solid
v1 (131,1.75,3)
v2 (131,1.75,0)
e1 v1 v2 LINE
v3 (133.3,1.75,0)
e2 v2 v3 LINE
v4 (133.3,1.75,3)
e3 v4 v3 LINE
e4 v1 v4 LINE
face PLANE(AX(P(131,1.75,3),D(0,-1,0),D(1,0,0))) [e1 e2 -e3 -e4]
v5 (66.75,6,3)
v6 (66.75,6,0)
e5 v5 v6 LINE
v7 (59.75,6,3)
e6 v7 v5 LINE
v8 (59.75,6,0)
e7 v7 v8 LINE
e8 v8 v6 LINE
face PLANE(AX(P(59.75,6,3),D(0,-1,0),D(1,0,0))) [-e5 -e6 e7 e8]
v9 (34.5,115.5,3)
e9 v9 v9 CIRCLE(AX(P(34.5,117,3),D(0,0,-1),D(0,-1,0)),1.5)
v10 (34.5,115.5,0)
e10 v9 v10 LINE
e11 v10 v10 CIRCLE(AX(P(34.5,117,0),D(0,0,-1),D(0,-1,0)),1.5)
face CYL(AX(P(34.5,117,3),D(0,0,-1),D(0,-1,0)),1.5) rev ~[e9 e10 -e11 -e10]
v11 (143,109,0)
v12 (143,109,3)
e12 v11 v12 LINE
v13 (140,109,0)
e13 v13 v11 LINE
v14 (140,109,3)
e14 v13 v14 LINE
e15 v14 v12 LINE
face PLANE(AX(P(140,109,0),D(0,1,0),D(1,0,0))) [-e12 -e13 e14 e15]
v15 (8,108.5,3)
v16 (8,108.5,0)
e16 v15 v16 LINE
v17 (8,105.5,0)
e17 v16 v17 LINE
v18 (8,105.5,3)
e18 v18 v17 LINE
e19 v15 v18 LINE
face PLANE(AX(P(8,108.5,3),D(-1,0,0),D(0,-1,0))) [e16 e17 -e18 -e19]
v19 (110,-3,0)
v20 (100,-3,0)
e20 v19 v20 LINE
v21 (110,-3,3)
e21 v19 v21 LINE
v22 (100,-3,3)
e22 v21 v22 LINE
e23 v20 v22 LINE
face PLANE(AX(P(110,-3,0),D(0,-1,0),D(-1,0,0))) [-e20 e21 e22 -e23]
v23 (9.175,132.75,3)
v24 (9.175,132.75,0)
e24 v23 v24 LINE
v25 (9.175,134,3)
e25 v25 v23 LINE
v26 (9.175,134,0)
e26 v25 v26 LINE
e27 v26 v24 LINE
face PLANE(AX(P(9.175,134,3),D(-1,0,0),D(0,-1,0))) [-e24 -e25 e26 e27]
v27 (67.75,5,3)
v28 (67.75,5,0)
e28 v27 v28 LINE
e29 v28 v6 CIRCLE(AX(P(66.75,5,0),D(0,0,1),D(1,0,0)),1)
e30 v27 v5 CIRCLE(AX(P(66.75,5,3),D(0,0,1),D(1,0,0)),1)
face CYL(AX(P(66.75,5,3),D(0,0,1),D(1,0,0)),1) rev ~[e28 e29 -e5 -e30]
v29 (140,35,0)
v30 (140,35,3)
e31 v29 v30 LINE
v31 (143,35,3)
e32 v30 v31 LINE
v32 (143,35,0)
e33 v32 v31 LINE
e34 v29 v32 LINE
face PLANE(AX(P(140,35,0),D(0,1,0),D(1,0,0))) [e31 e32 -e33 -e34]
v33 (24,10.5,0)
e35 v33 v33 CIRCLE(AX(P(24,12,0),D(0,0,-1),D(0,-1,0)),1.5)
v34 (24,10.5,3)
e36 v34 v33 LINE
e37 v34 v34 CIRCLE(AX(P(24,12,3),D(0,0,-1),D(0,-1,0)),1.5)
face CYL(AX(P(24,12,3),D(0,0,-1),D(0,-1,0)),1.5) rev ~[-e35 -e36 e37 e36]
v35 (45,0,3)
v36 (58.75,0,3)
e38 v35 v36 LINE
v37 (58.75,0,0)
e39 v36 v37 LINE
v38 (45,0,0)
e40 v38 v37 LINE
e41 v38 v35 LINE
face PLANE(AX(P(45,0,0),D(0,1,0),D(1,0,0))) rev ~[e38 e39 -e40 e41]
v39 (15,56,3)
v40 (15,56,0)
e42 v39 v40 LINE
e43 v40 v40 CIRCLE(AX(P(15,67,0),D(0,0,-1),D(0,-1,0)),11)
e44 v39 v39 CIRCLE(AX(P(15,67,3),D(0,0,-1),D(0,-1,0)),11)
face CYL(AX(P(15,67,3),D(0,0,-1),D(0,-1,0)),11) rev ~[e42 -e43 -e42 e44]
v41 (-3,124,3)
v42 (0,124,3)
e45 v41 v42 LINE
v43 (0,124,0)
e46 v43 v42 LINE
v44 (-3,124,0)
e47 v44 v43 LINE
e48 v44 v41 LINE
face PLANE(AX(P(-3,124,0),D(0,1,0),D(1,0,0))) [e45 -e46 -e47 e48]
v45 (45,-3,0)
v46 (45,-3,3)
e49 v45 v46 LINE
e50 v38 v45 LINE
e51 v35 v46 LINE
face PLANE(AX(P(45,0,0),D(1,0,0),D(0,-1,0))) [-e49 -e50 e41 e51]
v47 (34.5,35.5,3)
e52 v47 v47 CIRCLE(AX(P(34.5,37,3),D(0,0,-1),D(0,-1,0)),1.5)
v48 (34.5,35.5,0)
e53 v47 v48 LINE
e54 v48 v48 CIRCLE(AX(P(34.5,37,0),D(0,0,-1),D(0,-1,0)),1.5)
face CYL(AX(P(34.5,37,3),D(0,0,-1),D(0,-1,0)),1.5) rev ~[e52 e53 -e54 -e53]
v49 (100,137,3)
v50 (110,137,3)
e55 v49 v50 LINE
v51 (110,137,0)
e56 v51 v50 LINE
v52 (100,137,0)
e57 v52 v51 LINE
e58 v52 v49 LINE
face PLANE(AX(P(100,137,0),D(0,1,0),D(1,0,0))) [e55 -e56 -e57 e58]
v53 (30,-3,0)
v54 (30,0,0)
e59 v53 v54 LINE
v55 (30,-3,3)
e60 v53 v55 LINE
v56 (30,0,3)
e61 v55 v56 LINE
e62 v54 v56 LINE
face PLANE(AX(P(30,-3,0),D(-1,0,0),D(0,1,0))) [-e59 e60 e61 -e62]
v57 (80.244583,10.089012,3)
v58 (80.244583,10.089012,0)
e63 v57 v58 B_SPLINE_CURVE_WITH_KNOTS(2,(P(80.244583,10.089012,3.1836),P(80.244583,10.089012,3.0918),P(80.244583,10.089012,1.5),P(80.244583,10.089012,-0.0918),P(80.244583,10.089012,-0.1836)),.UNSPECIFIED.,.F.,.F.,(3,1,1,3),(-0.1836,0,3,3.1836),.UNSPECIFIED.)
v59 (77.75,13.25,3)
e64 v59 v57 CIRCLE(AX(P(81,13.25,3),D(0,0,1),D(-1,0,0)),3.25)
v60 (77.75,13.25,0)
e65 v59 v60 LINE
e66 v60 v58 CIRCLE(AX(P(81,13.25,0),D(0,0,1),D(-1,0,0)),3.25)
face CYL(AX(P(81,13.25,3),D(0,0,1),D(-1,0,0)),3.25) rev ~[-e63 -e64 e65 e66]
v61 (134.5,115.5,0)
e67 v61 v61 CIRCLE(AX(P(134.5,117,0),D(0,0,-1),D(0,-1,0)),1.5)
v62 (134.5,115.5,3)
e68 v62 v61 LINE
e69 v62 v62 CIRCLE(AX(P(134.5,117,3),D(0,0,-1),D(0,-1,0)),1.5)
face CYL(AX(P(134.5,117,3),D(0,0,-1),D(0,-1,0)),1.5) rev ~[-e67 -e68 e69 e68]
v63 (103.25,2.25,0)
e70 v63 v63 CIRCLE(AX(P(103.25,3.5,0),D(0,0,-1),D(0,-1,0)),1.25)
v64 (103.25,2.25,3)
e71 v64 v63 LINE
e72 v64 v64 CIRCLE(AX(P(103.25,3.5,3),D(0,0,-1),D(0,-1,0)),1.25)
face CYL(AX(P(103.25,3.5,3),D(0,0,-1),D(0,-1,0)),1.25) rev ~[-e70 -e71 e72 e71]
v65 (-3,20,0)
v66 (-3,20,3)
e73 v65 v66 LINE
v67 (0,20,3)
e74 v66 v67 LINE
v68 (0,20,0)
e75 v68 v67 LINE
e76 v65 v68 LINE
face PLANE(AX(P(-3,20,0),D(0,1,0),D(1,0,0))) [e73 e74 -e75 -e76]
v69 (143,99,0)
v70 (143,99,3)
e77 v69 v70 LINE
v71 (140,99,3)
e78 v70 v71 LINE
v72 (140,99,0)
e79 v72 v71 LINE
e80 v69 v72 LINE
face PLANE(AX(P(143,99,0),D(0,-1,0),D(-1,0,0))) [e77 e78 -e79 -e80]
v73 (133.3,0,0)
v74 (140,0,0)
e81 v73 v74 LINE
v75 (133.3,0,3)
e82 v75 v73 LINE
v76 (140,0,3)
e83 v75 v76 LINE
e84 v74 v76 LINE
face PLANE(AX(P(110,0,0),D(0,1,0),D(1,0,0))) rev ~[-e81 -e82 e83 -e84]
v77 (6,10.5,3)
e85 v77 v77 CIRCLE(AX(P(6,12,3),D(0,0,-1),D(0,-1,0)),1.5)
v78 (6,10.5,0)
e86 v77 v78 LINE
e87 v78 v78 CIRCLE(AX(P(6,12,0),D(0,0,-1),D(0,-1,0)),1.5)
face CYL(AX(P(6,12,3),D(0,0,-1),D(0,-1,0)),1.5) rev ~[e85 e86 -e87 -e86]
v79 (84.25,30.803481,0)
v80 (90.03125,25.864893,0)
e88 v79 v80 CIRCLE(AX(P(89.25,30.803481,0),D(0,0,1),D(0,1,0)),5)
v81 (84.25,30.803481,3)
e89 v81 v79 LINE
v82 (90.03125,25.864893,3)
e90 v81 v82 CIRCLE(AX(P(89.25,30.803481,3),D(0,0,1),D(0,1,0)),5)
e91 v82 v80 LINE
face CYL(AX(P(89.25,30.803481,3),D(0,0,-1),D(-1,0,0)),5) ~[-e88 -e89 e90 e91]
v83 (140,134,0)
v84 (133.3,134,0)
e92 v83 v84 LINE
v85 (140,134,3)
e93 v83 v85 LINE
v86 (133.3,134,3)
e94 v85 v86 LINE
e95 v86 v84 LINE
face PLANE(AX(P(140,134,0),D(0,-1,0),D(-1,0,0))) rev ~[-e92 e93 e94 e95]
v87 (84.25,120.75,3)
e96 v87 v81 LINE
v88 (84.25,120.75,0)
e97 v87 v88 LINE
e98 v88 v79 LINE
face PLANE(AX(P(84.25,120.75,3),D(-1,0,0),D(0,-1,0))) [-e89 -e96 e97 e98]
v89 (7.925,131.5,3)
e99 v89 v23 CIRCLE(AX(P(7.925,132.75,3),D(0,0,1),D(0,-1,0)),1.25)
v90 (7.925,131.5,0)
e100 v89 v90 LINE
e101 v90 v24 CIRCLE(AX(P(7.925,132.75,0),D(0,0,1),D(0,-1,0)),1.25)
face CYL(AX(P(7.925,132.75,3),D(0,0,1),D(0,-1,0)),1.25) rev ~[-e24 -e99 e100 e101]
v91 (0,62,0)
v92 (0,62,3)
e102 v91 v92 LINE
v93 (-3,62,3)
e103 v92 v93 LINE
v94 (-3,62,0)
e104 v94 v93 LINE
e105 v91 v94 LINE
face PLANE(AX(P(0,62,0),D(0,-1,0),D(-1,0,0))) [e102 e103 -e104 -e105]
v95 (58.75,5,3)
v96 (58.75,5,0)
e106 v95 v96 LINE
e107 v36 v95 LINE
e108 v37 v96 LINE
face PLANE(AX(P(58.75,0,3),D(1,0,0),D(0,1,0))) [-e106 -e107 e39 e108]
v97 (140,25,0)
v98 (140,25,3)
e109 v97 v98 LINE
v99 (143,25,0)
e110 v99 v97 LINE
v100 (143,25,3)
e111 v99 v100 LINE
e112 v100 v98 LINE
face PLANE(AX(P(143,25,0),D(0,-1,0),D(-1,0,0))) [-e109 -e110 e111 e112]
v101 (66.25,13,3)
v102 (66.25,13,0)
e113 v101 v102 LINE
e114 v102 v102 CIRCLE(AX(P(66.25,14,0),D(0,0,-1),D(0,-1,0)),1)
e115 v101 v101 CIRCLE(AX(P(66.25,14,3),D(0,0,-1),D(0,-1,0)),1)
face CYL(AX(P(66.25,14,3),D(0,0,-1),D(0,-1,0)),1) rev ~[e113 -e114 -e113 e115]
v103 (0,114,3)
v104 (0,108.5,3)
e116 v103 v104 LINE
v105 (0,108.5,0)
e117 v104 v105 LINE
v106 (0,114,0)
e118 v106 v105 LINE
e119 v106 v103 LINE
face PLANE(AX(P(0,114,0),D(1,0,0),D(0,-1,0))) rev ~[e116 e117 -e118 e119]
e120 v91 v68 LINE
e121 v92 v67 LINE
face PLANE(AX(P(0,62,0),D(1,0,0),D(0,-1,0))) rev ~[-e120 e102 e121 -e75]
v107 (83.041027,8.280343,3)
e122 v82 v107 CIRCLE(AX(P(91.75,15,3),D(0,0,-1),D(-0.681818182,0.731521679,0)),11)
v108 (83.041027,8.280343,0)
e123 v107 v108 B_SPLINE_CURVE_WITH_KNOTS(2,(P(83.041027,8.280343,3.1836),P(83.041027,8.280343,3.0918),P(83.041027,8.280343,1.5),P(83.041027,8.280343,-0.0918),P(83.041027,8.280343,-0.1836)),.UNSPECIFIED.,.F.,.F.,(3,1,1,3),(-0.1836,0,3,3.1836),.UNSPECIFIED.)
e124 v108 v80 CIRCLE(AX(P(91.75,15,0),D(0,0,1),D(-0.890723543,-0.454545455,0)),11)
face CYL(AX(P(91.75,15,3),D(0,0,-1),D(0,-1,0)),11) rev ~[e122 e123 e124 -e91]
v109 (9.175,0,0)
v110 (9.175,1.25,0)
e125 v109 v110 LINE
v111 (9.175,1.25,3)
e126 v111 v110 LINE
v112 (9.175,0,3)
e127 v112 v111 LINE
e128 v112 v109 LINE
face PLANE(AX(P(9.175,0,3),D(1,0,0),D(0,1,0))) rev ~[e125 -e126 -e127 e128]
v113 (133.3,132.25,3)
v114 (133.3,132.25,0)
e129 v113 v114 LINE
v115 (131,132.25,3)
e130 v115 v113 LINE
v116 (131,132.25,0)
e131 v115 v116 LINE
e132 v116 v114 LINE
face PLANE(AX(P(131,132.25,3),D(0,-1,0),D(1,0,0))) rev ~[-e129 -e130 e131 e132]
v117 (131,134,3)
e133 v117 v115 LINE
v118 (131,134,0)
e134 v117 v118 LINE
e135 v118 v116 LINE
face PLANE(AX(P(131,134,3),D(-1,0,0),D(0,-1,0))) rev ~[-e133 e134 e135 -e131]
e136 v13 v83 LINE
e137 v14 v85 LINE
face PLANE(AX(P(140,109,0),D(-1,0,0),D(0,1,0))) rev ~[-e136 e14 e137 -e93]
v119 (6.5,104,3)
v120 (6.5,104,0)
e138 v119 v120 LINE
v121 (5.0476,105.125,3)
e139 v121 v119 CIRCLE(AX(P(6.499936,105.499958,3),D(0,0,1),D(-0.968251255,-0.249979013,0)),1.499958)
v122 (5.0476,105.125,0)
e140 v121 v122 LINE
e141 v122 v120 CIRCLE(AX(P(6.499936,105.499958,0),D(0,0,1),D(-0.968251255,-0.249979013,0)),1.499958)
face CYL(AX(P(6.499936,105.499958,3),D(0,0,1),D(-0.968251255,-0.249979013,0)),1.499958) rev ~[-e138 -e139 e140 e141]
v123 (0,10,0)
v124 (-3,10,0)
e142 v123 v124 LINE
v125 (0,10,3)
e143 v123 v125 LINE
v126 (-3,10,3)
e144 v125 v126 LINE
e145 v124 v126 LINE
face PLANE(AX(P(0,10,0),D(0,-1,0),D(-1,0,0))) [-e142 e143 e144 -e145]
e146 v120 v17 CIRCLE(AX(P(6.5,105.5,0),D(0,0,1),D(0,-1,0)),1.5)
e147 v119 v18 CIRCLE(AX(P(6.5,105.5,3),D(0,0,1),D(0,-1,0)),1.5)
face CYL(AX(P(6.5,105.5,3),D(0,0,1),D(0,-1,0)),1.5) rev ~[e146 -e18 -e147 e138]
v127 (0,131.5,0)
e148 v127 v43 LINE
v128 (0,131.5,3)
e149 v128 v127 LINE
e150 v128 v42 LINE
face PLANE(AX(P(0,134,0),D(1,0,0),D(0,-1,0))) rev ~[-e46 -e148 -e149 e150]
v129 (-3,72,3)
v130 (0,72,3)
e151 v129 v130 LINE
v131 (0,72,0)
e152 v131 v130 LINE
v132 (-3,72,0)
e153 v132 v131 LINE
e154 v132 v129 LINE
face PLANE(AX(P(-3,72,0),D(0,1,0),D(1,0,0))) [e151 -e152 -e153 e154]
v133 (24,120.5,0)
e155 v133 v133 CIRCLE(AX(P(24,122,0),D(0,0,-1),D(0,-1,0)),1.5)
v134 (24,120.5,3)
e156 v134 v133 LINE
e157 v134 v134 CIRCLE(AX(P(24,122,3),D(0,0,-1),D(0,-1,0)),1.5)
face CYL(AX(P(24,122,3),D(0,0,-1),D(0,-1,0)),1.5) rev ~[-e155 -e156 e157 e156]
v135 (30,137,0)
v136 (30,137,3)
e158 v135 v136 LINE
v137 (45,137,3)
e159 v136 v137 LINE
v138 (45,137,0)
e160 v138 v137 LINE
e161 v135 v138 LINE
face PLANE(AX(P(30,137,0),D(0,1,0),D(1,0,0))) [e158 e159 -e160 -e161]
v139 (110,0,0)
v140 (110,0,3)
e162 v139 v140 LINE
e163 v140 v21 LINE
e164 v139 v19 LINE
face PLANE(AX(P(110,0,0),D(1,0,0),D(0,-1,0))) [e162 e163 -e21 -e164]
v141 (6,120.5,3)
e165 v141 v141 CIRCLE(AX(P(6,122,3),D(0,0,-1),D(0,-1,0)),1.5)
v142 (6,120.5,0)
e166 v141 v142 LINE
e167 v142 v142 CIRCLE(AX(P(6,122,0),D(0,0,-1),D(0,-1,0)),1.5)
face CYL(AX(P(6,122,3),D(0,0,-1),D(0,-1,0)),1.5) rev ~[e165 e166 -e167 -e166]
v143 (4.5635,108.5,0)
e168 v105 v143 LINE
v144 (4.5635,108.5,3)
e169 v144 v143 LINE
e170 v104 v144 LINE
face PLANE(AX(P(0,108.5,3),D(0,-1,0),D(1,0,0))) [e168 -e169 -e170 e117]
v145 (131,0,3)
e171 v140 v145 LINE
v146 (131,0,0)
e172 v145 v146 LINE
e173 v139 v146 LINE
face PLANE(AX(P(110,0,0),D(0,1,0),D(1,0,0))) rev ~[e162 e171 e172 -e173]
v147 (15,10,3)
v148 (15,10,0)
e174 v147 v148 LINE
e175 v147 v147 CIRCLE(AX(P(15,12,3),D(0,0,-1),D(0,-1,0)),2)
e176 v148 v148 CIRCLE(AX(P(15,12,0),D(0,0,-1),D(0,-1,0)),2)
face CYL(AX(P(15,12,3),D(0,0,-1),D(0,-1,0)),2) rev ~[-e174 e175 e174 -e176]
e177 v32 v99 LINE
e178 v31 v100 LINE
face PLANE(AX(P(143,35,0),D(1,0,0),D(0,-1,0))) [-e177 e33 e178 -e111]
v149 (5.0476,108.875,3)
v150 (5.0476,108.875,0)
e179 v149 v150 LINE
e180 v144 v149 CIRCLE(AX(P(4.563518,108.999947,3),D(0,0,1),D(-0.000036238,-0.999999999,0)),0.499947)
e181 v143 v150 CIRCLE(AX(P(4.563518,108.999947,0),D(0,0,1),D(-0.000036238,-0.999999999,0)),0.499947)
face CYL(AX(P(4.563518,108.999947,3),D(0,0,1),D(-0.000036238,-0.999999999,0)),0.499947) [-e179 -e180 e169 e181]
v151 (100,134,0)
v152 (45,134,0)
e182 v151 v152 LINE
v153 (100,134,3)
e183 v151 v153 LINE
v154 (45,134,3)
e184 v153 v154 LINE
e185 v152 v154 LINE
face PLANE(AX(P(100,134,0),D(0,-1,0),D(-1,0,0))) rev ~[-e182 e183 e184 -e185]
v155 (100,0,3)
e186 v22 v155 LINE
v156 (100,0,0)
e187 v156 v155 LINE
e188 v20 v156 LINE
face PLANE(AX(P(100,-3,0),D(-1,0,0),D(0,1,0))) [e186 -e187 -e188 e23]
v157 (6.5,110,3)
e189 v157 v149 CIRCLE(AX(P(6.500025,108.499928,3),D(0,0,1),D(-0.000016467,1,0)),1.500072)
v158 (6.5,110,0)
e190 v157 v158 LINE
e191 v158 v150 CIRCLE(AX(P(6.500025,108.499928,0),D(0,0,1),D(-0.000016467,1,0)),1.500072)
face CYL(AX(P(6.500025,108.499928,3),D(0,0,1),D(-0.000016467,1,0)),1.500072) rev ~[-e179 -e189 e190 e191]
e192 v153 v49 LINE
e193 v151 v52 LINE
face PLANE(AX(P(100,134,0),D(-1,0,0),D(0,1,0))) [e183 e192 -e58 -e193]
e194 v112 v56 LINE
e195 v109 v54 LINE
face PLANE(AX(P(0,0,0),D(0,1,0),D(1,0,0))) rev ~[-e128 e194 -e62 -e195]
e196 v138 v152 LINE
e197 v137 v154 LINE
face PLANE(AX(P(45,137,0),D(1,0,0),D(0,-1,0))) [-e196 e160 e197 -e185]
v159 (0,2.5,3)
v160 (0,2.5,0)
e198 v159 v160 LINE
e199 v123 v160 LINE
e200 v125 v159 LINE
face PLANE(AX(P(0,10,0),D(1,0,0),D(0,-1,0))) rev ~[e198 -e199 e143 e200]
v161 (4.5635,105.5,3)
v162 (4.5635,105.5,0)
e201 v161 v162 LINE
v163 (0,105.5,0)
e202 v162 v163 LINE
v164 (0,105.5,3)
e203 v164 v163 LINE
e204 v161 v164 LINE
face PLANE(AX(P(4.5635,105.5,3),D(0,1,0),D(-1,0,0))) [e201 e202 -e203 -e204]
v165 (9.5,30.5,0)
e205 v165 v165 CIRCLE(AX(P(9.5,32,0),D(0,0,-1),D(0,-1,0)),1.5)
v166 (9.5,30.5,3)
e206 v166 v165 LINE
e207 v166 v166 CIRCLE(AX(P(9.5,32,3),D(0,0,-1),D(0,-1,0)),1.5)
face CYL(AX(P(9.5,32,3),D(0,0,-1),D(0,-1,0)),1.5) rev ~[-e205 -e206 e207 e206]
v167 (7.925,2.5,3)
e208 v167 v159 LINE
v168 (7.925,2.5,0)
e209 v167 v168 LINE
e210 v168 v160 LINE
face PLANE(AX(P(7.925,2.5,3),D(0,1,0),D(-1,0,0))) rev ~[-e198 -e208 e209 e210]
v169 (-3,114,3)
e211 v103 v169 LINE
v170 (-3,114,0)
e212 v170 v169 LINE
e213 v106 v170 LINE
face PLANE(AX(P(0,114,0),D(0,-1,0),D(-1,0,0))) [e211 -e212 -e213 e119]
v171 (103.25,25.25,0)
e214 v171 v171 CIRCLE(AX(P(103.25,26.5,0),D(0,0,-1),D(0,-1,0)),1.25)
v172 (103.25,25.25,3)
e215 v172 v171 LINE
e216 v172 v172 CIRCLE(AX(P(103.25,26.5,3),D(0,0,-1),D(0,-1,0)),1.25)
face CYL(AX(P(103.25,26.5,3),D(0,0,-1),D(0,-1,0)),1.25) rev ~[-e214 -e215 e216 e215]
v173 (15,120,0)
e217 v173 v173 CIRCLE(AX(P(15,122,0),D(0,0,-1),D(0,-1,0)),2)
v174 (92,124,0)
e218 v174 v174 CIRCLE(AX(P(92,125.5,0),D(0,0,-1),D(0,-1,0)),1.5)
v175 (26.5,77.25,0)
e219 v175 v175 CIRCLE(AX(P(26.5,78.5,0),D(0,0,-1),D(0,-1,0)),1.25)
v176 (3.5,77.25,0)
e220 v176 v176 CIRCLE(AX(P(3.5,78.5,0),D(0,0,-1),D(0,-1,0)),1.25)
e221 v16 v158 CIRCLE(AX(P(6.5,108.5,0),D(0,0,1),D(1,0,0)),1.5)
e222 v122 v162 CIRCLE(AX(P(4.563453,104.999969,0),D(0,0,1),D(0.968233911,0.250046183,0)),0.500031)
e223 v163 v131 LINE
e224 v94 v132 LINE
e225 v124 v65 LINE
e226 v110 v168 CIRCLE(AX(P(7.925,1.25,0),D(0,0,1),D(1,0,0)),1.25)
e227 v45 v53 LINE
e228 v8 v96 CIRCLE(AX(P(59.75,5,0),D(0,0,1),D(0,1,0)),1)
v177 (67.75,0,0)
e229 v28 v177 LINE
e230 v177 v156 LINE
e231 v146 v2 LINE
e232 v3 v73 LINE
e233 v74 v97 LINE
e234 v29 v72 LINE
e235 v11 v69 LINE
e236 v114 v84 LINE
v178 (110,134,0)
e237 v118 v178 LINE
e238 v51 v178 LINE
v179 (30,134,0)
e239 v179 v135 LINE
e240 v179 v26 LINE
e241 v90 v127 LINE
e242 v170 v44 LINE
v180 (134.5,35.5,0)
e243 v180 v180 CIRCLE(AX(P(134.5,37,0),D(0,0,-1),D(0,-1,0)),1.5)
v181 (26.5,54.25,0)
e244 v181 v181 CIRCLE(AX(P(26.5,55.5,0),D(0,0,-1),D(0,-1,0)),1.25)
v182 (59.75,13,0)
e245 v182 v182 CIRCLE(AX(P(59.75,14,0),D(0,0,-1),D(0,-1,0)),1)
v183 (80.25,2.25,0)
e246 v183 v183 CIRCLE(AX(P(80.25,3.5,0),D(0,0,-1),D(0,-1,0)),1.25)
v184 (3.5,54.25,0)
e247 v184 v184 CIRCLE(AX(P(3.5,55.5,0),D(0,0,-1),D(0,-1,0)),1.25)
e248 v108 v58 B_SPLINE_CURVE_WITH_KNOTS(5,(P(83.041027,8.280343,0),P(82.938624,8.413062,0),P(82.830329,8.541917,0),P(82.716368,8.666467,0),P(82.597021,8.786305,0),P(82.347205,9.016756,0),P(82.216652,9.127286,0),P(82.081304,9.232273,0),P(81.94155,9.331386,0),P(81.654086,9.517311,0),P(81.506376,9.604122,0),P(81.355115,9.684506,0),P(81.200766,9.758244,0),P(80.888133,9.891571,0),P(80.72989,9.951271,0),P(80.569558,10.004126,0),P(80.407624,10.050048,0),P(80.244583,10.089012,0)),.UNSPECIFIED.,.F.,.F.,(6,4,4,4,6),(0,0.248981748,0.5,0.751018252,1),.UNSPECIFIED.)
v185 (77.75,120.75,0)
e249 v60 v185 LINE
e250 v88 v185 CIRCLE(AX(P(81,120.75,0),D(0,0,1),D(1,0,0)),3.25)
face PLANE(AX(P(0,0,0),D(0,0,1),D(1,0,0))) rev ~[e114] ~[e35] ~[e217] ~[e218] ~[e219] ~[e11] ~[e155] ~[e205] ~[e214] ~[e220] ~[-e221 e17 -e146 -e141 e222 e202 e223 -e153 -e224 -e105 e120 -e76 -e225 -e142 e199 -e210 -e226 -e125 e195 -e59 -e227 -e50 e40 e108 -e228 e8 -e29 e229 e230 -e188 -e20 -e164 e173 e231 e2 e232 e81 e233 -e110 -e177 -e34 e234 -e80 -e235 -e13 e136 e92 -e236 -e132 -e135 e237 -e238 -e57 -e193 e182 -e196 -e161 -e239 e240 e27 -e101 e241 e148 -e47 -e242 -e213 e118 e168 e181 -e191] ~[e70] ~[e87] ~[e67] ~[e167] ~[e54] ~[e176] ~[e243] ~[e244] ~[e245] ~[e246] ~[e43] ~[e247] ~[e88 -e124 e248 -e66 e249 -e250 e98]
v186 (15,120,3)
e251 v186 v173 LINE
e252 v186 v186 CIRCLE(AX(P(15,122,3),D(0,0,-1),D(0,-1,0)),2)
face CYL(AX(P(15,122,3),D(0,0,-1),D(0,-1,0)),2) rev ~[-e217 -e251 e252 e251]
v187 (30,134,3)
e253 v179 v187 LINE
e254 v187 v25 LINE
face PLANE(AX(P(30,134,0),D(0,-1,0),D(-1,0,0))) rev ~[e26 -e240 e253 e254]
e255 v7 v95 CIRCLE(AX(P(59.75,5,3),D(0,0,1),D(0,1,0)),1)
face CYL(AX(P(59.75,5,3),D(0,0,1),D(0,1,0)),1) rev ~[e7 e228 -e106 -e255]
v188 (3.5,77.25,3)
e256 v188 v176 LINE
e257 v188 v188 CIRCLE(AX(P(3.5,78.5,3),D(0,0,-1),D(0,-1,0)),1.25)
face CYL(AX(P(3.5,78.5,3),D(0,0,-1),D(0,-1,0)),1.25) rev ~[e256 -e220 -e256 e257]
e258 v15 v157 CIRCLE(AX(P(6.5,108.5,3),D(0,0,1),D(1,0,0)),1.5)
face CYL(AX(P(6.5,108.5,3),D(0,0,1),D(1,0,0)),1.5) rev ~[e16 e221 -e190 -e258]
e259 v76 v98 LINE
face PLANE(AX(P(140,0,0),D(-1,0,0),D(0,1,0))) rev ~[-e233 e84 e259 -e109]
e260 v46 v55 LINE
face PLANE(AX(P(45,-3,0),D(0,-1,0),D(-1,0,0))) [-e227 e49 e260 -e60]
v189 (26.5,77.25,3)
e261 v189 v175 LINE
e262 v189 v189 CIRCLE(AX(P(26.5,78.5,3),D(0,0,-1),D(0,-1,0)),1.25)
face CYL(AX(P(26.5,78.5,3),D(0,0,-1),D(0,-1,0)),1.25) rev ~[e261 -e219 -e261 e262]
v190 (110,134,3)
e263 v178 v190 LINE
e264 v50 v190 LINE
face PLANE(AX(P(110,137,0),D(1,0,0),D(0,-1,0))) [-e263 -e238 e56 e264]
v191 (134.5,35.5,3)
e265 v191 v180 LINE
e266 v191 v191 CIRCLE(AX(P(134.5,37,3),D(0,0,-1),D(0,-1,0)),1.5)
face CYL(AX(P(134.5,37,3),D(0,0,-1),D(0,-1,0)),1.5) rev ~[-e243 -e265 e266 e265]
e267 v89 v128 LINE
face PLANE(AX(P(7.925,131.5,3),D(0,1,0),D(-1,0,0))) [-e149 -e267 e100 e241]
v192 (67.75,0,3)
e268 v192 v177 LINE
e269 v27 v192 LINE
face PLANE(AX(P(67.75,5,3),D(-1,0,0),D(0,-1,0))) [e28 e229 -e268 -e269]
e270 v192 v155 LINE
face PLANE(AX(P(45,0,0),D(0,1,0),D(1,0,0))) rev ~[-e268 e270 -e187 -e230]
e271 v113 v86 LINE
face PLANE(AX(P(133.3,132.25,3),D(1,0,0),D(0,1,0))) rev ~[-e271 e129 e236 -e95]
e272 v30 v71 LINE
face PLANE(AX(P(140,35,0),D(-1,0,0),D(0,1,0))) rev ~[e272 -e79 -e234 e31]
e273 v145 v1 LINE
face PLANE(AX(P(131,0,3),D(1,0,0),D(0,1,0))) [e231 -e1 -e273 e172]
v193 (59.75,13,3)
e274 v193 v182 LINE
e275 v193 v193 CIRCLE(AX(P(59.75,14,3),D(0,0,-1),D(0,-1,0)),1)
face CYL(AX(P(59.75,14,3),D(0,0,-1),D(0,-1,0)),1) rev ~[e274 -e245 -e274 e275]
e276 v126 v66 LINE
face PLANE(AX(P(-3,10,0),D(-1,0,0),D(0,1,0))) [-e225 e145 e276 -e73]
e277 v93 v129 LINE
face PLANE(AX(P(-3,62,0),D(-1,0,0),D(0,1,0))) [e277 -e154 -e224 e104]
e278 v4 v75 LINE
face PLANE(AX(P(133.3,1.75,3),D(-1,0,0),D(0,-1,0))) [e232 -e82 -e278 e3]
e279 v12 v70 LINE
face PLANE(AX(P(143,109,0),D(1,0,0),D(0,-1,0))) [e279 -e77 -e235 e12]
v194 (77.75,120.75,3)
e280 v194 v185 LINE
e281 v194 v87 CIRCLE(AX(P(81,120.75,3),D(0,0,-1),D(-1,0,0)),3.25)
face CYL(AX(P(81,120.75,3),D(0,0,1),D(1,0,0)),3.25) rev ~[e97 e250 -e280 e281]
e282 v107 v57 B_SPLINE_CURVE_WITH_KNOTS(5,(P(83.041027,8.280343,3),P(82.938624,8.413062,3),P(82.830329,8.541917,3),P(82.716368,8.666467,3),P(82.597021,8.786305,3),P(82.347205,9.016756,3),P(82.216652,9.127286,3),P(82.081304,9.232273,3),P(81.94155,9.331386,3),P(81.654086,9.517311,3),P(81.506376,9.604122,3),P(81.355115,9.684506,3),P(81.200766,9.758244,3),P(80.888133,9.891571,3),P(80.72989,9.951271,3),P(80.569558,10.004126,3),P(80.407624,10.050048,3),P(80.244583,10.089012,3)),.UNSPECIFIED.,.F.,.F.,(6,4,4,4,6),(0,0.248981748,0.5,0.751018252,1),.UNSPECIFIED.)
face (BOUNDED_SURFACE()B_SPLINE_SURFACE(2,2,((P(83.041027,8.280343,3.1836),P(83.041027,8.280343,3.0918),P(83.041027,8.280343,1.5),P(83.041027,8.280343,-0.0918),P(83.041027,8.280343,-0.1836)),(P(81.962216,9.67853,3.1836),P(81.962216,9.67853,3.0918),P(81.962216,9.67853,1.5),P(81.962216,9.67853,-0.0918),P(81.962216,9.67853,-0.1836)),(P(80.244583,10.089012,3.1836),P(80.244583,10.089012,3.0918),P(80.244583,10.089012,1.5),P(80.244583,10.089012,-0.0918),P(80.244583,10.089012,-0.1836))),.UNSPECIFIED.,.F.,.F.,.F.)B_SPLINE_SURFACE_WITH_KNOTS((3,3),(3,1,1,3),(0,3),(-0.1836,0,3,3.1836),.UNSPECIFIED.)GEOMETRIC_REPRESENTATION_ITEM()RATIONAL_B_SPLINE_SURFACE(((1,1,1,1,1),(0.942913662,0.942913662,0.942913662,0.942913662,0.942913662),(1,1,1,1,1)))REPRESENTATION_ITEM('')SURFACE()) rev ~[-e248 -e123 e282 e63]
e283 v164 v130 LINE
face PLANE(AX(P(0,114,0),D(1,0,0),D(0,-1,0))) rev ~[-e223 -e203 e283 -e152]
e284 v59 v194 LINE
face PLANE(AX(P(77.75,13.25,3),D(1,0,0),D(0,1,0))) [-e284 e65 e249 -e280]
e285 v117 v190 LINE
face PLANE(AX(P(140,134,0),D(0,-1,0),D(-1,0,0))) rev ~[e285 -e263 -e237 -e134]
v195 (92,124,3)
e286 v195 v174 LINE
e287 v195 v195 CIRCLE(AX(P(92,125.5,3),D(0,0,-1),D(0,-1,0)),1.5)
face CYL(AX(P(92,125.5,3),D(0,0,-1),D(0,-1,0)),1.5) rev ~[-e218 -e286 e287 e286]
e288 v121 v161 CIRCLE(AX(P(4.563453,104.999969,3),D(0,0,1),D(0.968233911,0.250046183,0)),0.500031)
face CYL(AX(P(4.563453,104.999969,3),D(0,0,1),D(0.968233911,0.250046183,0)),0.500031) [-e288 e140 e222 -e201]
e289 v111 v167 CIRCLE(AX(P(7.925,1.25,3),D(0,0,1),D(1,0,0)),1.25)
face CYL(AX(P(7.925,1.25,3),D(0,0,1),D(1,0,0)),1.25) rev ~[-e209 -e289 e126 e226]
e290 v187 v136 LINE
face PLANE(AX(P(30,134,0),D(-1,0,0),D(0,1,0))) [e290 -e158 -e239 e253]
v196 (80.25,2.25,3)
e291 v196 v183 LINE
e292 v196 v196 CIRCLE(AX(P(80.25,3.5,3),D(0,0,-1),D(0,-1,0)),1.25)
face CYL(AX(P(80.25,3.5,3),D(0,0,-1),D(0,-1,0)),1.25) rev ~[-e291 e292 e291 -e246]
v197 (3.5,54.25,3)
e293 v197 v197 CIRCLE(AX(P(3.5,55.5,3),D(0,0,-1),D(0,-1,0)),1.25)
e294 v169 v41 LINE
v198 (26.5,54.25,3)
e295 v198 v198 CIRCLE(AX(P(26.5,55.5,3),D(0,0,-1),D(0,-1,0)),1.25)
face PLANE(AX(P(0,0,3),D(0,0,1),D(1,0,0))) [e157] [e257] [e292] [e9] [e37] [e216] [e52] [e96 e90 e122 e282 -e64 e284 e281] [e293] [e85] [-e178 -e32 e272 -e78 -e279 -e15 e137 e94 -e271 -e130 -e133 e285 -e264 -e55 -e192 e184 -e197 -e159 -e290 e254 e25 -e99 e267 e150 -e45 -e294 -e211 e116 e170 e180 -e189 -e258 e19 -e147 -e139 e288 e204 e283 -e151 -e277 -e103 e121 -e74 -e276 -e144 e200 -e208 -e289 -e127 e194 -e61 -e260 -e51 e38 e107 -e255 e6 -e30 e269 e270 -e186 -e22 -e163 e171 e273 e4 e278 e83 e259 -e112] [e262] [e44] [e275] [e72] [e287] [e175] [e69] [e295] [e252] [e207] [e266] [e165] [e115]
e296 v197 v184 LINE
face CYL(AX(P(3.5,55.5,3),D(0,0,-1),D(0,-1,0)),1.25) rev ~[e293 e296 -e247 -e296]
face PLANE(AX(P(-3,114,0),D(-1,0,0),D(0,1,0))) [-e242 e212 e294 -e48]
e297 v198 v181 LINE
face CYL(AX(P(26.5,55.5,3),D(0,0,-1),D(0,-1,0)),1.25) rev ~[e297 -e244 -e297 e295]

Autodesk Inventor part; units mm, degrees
ref_plane "YZ Plane" through (0, 0, 0) normal (1, 0, 0) x (0, 1, 0)
ref_plane "XZ Plane" through (0, 0, 0) normal (0, 1, 0) x (-1, 0, 0)
ref_plane "XY Plane" through (0, 0, 0) normal (0, 0, 1) x (1, 0, 0)
sketch "Sketch1" plane through (0, 0, 0) normal (0, 0, 1) x (1, 0, 0)
  line L0 (0, 0) -> (140, 0)
  line L1 (140, 0) -> (140, 134)
  line L2 (140, 134) -> (0, 134)
  line L3 (0, 134) -> (0, 0)
  line L4 (30, 137) -> (45, 137)
  line L5 (45, 137) -> (45, -3)
  line L6 (45, -3) -> (30, -3)
  line L7 (30, -3) -> (30, 137)
  line L8 (100, 137) -> (110, 137)
  line L9 (110, 137) -> (110, -3)
  line L10 (110, -3) -> (100, -3)
  line L11 (100, -3) -> (100, 137)
  line L12 (-3, 124) -> (0, 124)
  line L13 (0, 124) -> (0, 114)
  line L14 (0, 114) -> (-3, 114)
  line L15 (-3, 114) -> (-3, 124)
  line L16 (-3, 20) -> (0, 20)
  line L17 (0, 20) -> (0, 10)
  line L18 (0, 10) -> (-3, 10)
  line L19 (-3, 10) -> (-3, 20)
  line L20 (-3, 72) -> (0, 72)
  line L21 (0, 72) -> (0, 62)
  line L22 (0, 62) -> (-3, 62)
  line L23 (-3, 62) -> (-3, 72)
  line L24 (140, 109) -> (143, 109)
  line L25 (143, 109) -> (143, 99)
  line L26 (143, 99) -> (140, 99)
  line L27 (140, 99) -> (140, 109)
  line L28 (140, 35) -> (143, 35)
  line L29 (143, 35) -> (143, 25)
  line L30 (143, 25) -> (140, 25)
  line L31 (140, 25) -> (140, 35)
  dimension "d0" = 140
  dimension "d1" = 134
  dimension "d2" = 140
  dimension "d3" = 3
  dimension "d4" = 15
  dimension "d5" = 10
  dimension "d6" = 140
  dimension "d7" = 3
  dimension "d8" = 30
  dimension "d9" = 30
  dimension "d10" = 10
  dimension "d12" = 3
  dimension "d13" = 10
  dimension "d14" = 3
  dimension "d15" = 3
  dimension "d16" = 10
  dimension "d17" = 10
  dimension "d103" = 10
  dimension "d104" = 42
  dimension "d208" = 3
  dimension "d213" = 3
  dimension "d214" = 10
  dimension "d215" = 25
  dimension "d216" = 3
  dimension "d217" = 10
  dimension "d218" = 25
extrude "Extrusion1" add sketch "Sketch1" along normal blind 3
sketch "Sketch2" plane through (0, 0, 3) normal (0, 0, 1) x (1, 0, 0)
  line L0 (0, 0) -> (0, 10) projected
  line L1 (100, 0) -> (45, 0) projected
  point P0 (80.25, 3.5)
  point P1 (103.25, 26.5)
  point P2 (103.25, 3.5)
  dimension "d102" = 23
  dimension "d119" = 80.25
  dimension "d122" = 3.5
  dimension "d123" = 23
hole "Hole1" at (80.25, 3.5, 3) at (103.25, 26.5, 3) at (103.25, 3.5, 3) direction (0, 0, -1) diameter 2.5 end through all
sketch "Sketch3" plane through (0, 0, 3) normal (0, 0, 1) x (1, 0, 0)
  line L0 (0, 20) -> (0, 114) projected
  line L1 (30, 0) -> (0, 0) projected
  line L2 (0, 0) -> (0, 10) projected
  point P0 (3.5, 78.5)
  point P1 (3.5, 55.5)
  point P2 (26.5, 78.5)
  point P3 (26.5, 55.5)
  dimension "d35" = 23
  dimension "d37" = 3.5
  dimension "d48" = 3.5
  dimension "d93" = 55.5
  dimension "d101" = 23
  dimension "d105" = 23
hole "Hole2" at (3.5, 78.5, 3) at (3.5, 55.5, 3) at (26.5, 78.5, 3) at (26.5, 55.5, 3) direction (0, 0, -1) diameter 2.5 end through all
sketch "Sketch5" plane through (0, 0, 3) normal (0, 0, 1) x (1, 0, 0)
  line L0 (0, 124) -> (0, 134) projected
  line L1 (0, 0) -> (0, 10) projected
  line L2 (0, 134) -> (30, 134) projected
  line L3 (30, 0) -> (0, 0) projected
  point P0 (15, 122)
  point P1 (15, 12)
  dimension "d56" = 15
  dimension "d57" = 15
  dimension "d89" = 12
  dimension "d90" = 12
hole "Hole3" at (15, 122, 3) at (15, 12, 3) direction (0, 0, -1) diameter 4 end through all
sketch "Sketch6" plane through (0, 0, 3) normal (0, 0, 1) x (1, 0, 0)
  circle A0 centre (15, 122) radius 2 projected
  circle A1 centre (15, 12) radius 2 projected
  point P0 (6, 122)
  point P1 (24, 122)
  point P2 (6, 12)
  point P3 (24, 12)
  dimension "d65" = 9
  dimension "d66" = 9
  dimension "d67" = 9
  dimension "d68" = 9
  dimension "d91" = 0
  dimension "d92" = 0
hole "Hole4" at (6, 122, 3) at (24, 122, 3) at (6, 12, 3) at (24, 12, 3) direction (0, 0, -1) diameter 3 end through all
sketch "Sketch8" plane through (0, 0, 3) normal (0, 0, 1) x (1, 0, 0)
  line L0 (45, 134) -> (100, 134) projected
  line L1 (140, 134) -> (140, 109) projected
  point P0 (92, 125.5)
  dimension "d136" = 8.5
  dimension "d226" = 48
hole "Hole5" at (92, 125.5, 3) direction (0, 0, -1) diameter 3 end through all
sketch "Sketch13" plane through (0, 0, 3) normal (0, 0, 1) x (1, 0, 0)
  circle A0 centre (3.5, 78.5) radius 1.25 projected
  circle A1 centre (80.25, 3.5) radius 1.25 projected
  point P0 (15, 67)
  point P1 (91.75, 15)
  dimension "d108" = 11.5
  dimension "d109" = 11.5
  dimension "d124" = 11.5
  dimension "d125" = 11.5
hole "Hole6" at (15, 67, 3) at (91.75, 15, 3) direction (0, 0, -1) diameter 22 end through all
sketch "Sketch15" plane through (0, 0, 3) normal (0, 0, 1) x (1, 0, 0)
  line L0 (100, 0) -> (45, 0) projected
  line L1 (45, 134) -> (100, 134) projected
  line L2 (81, 124) -> (81, 124)
  line L3 (84.25, 120.75) -> (84.25, 10)
  line L4 (84.25, 10) -> (81, 10)
  line L5 (77.75, 13.25) -> (77.75, 120.75)
  arc A0 (81, 124) -> (77.75, 120.75) centre (81, 120.75) ccw
  arc A1 (84.25, 120.75) -> (81, 124) centre (81, 120.75) ccw
  arc A2 (77.75, 13.25) -> (81, 10) centre (81, 13.25) ccw
  circle A3 centre (91.75, 15) radius 11 projected
  point P0 (77.75, 124)
  point P1 (84.25, 124)
  point P2 (77.75, 10)
  dimension "d129" = 10
  dimension "d130" = 6.5
  dimension "d131" = 3.25
  dimension "d137" = 10
  dimension "d138" = 3.25
  dimension "d224" = 14
extrude "Extrusion2" cut sketch "Sketch15" against normal through all contours L3 A3 L4 A2 L5 A0 A1 | L3 L4 A3 picked at (83.7345, 18.1015)
sketch "Sketch19" plane through (0, 0, 3) normal (0, 0, 1) x (1, 0, 0)
  line L0 (140, 0) -> (110, 0) projected
  line L1 (110, 134) -> (140, 134) projected
  line L2 (133.3, 134) -> (131, 134)
  line L3 (131, 134) -> (131, 132.25)
  line L4 (131, 132.25) -> (133.3, 132.25)
  line L5 (133.3, 132.25) -> (133.3, 134)
  line L6 (133.3, 0) -> (131, 0)
  line L7 (131, 0) -> (131, 1.75)
  line L8 (131, 1.75) -> (133.3, 1.75)
  line L9 (133.3, 1.75) -> (133.3, 0)
  line L10 (140, 134) -> (140, 0) projected
  line L11 (0, 134) -> (9.175, 134)
  line L12 (9.175, 134) -> (9.175, 132.75)
  line L13 (7.925, 131.5) -> (0, 131.5)
  line L14 (0, 131.5) -> (0, 134)
  line L15 (0, 0) -> (9.175, 0)
  line L16 (9.175, 0) -> (9.175, 1.25)
  line L17 (7.925, 2.5) -> (0, 2.5)
  line L18 (0, 2.5) -> (0, 0)
  arc A0 (7.925, 131.5) -> (9.175, 132.75) centre (7.925, 132.75) ccw
  arc A1 (9.175, 1.25) -> (7.925, 2.5) centre (7.925, 1.25) ccw
  point P0 (9.175, 131.5)
  point P1 (9.175, 2.5)
  dimension "d166" = 2.3
  dimension "d168" = 1.75
  dimension "d173" = 1.75
  dimension "d210" = 9
  dimension "d211" = 2.3
  dimension "d212" = 9
  dimension "d219" = 9.175
  dimension "d220" = 2.5
  dimension "d221" = 9.175
  dimension "d222" = 2.5
  dimension "d223" = 1.25
extrude "Extrusion3" cut sketch "Sketch19" against normal through all
fillet "圓角4" radius 5 2 edges at (84.25, 23.0467, 1.5) (81.952, 10, 1.5)
sketch "草圖24" plane through (0, 0, 3) normal (0, 0, 1) x (1, 0, 0)
  line L0 (140, 0) -> (133.3, 0) projected
  line L1 (140, 99) -> (140, 35) projected
  point P0 (0, 0)
  point P1 (134.5, 37)
  point P2 (34.5, 37)
  point P3 (134.5, 117)
  point P4 (34.5, 117)
  dimension "d227" = 37
  dimension "d228" = 5.5
  dimension "d229" = 100
  dimension "d230" = 80
hole "孔10" at (134.5, 37, 3) at (34.5, 37, 3) at (134.5, 117, 3) at (34.5, 117, 3) direction (0, 0, -1) diameter 3 end through all
sketch "草圖25" plane through (0, 0, 3) normal (0, 0, 1) x (1, 0, 0)
  line L0 (0, 20) -> (0, 62) projected
  line L1 (30, 0) -> (9.175, 0) projected
  point P0 (0, 0)
  point P1 (9.5, 32)
  dimension "d238" = 9.5
  dimension "d239" = 32
hole "孔11" at (9.5, 32, 3) direction (0, 0, -1) diameter 3 end through all
sketch "草圖26" plane through (0, 0, 3) normal (0, 0, 1) x (1, 0, 0)
  line L0 (0, 72) -> (0, 114) projected
  line L1 (9.175, 134) -> (30, 134) projected
  line L2 (0, 108.5) -> (4.5635, 108.5)
  line L3 (8, 108.5) -> (8, 105.5)
  line L4 (4.5635, 105.5) -> (0, 105.5)
  line L5 (0, 105.5) -> (0, 108.5)
  line L6 (6.5, 110) -> (6.5, 110)
  line L7 (6.5, 104) -> (6.5, 104)
  line L8 (8, 105.5) -> (8, 108.5)
  arc A0 (8, 108.5) -> (6.5, 110) centre (6.5, 108.5) ccw
  arc A1 (6.5, 104) -> (8, 105.5) centre (6.5, 105.5) ccw
  arc A2 (5.0476, 105.125) -> (6.5, 104) centre (6.5, 105.5) ccw
  arc A3 (6.5, 110) -> (5.0476, 108.875) centre (6.5, 108.5) ccw
  arc A4 (4.5635, 108.5) -> (5.0476, 108.875) centre (4.5635, 109) ccw
  arc A5 (5.0476, 105.125) -> (4.5635, 105.5) centre (4.5635, 105) ccw
  point P0 (0, 0)
  point P1 (8, 110)
  point P2 (5, 110)
  point P3 (8, 104)
  point P4 (5, 108.5)
  point P5 (5, 105.5)
  dimension "d249" = 3
  dimension "d250" = 25.5
  dimension "d251" = 3
  dimension "d252" = 6
  dimension "d253" = 8
  dimension "d255" = 1.5
  dimension "d256" = 0.5
extrude "擠出7" cut sketch "草圖26" against normal through all
sketch "草圖27" plane through (0, 0, 3) normal (0, 0, 1) x (1, 0, 0)
  line L0 (100, 0) -> (45, 0) projected
  line L1 (140, 25) -> (140, 0) projected
  point P0 (0, 0)
  point P1 (66.25, 14)
  point P2 (59.75, 14)
  dimension "d259" = 73.75
  dimension "d260" = 14
  dimension "d261" = 6.5
hole "孔12" at (66.25, 14, 3) at (59.75, 14, 3) direction (0, 0, -1) diameter 2 end through all
sketch "草圖28" plane through (0, 0, 3) normal (0, 0, 1) x (1, 0, 0)
  circle A0 centre (66.25, 14) radius 1 projected
  line L0 (100, 0) -> (45, 0) projected
  line L1 (59.75, 6) -> (66.75, 6)
  line L2 (67.75, 5) -> (67.75, 0)
  line L3 (67.75, 0) -> (58.75, 0)
  line L4 (58.75, 0) -> (58.75, 5)
  arc A1 (59.75, 6) -> (58.75, 5) centre (59.75, 5) ccw
  arc A2 (67.75, 5) -> (66.75, 6) centre (66.75, 5) ccw
  point P0 (0, 0)
  point P1 (58.75, 6)
  point P2 (67.75, 6)
  dimension "d269" = 6
  dimension "d271" = 9
  dimension "d272" = 1.5
  dimension "d273" = 1
extrude "擠出8" cut sketch "草圖28" against normal through all contours L0 L4 A1 L1 A2 L2
properties part number "plastic_part_04"
